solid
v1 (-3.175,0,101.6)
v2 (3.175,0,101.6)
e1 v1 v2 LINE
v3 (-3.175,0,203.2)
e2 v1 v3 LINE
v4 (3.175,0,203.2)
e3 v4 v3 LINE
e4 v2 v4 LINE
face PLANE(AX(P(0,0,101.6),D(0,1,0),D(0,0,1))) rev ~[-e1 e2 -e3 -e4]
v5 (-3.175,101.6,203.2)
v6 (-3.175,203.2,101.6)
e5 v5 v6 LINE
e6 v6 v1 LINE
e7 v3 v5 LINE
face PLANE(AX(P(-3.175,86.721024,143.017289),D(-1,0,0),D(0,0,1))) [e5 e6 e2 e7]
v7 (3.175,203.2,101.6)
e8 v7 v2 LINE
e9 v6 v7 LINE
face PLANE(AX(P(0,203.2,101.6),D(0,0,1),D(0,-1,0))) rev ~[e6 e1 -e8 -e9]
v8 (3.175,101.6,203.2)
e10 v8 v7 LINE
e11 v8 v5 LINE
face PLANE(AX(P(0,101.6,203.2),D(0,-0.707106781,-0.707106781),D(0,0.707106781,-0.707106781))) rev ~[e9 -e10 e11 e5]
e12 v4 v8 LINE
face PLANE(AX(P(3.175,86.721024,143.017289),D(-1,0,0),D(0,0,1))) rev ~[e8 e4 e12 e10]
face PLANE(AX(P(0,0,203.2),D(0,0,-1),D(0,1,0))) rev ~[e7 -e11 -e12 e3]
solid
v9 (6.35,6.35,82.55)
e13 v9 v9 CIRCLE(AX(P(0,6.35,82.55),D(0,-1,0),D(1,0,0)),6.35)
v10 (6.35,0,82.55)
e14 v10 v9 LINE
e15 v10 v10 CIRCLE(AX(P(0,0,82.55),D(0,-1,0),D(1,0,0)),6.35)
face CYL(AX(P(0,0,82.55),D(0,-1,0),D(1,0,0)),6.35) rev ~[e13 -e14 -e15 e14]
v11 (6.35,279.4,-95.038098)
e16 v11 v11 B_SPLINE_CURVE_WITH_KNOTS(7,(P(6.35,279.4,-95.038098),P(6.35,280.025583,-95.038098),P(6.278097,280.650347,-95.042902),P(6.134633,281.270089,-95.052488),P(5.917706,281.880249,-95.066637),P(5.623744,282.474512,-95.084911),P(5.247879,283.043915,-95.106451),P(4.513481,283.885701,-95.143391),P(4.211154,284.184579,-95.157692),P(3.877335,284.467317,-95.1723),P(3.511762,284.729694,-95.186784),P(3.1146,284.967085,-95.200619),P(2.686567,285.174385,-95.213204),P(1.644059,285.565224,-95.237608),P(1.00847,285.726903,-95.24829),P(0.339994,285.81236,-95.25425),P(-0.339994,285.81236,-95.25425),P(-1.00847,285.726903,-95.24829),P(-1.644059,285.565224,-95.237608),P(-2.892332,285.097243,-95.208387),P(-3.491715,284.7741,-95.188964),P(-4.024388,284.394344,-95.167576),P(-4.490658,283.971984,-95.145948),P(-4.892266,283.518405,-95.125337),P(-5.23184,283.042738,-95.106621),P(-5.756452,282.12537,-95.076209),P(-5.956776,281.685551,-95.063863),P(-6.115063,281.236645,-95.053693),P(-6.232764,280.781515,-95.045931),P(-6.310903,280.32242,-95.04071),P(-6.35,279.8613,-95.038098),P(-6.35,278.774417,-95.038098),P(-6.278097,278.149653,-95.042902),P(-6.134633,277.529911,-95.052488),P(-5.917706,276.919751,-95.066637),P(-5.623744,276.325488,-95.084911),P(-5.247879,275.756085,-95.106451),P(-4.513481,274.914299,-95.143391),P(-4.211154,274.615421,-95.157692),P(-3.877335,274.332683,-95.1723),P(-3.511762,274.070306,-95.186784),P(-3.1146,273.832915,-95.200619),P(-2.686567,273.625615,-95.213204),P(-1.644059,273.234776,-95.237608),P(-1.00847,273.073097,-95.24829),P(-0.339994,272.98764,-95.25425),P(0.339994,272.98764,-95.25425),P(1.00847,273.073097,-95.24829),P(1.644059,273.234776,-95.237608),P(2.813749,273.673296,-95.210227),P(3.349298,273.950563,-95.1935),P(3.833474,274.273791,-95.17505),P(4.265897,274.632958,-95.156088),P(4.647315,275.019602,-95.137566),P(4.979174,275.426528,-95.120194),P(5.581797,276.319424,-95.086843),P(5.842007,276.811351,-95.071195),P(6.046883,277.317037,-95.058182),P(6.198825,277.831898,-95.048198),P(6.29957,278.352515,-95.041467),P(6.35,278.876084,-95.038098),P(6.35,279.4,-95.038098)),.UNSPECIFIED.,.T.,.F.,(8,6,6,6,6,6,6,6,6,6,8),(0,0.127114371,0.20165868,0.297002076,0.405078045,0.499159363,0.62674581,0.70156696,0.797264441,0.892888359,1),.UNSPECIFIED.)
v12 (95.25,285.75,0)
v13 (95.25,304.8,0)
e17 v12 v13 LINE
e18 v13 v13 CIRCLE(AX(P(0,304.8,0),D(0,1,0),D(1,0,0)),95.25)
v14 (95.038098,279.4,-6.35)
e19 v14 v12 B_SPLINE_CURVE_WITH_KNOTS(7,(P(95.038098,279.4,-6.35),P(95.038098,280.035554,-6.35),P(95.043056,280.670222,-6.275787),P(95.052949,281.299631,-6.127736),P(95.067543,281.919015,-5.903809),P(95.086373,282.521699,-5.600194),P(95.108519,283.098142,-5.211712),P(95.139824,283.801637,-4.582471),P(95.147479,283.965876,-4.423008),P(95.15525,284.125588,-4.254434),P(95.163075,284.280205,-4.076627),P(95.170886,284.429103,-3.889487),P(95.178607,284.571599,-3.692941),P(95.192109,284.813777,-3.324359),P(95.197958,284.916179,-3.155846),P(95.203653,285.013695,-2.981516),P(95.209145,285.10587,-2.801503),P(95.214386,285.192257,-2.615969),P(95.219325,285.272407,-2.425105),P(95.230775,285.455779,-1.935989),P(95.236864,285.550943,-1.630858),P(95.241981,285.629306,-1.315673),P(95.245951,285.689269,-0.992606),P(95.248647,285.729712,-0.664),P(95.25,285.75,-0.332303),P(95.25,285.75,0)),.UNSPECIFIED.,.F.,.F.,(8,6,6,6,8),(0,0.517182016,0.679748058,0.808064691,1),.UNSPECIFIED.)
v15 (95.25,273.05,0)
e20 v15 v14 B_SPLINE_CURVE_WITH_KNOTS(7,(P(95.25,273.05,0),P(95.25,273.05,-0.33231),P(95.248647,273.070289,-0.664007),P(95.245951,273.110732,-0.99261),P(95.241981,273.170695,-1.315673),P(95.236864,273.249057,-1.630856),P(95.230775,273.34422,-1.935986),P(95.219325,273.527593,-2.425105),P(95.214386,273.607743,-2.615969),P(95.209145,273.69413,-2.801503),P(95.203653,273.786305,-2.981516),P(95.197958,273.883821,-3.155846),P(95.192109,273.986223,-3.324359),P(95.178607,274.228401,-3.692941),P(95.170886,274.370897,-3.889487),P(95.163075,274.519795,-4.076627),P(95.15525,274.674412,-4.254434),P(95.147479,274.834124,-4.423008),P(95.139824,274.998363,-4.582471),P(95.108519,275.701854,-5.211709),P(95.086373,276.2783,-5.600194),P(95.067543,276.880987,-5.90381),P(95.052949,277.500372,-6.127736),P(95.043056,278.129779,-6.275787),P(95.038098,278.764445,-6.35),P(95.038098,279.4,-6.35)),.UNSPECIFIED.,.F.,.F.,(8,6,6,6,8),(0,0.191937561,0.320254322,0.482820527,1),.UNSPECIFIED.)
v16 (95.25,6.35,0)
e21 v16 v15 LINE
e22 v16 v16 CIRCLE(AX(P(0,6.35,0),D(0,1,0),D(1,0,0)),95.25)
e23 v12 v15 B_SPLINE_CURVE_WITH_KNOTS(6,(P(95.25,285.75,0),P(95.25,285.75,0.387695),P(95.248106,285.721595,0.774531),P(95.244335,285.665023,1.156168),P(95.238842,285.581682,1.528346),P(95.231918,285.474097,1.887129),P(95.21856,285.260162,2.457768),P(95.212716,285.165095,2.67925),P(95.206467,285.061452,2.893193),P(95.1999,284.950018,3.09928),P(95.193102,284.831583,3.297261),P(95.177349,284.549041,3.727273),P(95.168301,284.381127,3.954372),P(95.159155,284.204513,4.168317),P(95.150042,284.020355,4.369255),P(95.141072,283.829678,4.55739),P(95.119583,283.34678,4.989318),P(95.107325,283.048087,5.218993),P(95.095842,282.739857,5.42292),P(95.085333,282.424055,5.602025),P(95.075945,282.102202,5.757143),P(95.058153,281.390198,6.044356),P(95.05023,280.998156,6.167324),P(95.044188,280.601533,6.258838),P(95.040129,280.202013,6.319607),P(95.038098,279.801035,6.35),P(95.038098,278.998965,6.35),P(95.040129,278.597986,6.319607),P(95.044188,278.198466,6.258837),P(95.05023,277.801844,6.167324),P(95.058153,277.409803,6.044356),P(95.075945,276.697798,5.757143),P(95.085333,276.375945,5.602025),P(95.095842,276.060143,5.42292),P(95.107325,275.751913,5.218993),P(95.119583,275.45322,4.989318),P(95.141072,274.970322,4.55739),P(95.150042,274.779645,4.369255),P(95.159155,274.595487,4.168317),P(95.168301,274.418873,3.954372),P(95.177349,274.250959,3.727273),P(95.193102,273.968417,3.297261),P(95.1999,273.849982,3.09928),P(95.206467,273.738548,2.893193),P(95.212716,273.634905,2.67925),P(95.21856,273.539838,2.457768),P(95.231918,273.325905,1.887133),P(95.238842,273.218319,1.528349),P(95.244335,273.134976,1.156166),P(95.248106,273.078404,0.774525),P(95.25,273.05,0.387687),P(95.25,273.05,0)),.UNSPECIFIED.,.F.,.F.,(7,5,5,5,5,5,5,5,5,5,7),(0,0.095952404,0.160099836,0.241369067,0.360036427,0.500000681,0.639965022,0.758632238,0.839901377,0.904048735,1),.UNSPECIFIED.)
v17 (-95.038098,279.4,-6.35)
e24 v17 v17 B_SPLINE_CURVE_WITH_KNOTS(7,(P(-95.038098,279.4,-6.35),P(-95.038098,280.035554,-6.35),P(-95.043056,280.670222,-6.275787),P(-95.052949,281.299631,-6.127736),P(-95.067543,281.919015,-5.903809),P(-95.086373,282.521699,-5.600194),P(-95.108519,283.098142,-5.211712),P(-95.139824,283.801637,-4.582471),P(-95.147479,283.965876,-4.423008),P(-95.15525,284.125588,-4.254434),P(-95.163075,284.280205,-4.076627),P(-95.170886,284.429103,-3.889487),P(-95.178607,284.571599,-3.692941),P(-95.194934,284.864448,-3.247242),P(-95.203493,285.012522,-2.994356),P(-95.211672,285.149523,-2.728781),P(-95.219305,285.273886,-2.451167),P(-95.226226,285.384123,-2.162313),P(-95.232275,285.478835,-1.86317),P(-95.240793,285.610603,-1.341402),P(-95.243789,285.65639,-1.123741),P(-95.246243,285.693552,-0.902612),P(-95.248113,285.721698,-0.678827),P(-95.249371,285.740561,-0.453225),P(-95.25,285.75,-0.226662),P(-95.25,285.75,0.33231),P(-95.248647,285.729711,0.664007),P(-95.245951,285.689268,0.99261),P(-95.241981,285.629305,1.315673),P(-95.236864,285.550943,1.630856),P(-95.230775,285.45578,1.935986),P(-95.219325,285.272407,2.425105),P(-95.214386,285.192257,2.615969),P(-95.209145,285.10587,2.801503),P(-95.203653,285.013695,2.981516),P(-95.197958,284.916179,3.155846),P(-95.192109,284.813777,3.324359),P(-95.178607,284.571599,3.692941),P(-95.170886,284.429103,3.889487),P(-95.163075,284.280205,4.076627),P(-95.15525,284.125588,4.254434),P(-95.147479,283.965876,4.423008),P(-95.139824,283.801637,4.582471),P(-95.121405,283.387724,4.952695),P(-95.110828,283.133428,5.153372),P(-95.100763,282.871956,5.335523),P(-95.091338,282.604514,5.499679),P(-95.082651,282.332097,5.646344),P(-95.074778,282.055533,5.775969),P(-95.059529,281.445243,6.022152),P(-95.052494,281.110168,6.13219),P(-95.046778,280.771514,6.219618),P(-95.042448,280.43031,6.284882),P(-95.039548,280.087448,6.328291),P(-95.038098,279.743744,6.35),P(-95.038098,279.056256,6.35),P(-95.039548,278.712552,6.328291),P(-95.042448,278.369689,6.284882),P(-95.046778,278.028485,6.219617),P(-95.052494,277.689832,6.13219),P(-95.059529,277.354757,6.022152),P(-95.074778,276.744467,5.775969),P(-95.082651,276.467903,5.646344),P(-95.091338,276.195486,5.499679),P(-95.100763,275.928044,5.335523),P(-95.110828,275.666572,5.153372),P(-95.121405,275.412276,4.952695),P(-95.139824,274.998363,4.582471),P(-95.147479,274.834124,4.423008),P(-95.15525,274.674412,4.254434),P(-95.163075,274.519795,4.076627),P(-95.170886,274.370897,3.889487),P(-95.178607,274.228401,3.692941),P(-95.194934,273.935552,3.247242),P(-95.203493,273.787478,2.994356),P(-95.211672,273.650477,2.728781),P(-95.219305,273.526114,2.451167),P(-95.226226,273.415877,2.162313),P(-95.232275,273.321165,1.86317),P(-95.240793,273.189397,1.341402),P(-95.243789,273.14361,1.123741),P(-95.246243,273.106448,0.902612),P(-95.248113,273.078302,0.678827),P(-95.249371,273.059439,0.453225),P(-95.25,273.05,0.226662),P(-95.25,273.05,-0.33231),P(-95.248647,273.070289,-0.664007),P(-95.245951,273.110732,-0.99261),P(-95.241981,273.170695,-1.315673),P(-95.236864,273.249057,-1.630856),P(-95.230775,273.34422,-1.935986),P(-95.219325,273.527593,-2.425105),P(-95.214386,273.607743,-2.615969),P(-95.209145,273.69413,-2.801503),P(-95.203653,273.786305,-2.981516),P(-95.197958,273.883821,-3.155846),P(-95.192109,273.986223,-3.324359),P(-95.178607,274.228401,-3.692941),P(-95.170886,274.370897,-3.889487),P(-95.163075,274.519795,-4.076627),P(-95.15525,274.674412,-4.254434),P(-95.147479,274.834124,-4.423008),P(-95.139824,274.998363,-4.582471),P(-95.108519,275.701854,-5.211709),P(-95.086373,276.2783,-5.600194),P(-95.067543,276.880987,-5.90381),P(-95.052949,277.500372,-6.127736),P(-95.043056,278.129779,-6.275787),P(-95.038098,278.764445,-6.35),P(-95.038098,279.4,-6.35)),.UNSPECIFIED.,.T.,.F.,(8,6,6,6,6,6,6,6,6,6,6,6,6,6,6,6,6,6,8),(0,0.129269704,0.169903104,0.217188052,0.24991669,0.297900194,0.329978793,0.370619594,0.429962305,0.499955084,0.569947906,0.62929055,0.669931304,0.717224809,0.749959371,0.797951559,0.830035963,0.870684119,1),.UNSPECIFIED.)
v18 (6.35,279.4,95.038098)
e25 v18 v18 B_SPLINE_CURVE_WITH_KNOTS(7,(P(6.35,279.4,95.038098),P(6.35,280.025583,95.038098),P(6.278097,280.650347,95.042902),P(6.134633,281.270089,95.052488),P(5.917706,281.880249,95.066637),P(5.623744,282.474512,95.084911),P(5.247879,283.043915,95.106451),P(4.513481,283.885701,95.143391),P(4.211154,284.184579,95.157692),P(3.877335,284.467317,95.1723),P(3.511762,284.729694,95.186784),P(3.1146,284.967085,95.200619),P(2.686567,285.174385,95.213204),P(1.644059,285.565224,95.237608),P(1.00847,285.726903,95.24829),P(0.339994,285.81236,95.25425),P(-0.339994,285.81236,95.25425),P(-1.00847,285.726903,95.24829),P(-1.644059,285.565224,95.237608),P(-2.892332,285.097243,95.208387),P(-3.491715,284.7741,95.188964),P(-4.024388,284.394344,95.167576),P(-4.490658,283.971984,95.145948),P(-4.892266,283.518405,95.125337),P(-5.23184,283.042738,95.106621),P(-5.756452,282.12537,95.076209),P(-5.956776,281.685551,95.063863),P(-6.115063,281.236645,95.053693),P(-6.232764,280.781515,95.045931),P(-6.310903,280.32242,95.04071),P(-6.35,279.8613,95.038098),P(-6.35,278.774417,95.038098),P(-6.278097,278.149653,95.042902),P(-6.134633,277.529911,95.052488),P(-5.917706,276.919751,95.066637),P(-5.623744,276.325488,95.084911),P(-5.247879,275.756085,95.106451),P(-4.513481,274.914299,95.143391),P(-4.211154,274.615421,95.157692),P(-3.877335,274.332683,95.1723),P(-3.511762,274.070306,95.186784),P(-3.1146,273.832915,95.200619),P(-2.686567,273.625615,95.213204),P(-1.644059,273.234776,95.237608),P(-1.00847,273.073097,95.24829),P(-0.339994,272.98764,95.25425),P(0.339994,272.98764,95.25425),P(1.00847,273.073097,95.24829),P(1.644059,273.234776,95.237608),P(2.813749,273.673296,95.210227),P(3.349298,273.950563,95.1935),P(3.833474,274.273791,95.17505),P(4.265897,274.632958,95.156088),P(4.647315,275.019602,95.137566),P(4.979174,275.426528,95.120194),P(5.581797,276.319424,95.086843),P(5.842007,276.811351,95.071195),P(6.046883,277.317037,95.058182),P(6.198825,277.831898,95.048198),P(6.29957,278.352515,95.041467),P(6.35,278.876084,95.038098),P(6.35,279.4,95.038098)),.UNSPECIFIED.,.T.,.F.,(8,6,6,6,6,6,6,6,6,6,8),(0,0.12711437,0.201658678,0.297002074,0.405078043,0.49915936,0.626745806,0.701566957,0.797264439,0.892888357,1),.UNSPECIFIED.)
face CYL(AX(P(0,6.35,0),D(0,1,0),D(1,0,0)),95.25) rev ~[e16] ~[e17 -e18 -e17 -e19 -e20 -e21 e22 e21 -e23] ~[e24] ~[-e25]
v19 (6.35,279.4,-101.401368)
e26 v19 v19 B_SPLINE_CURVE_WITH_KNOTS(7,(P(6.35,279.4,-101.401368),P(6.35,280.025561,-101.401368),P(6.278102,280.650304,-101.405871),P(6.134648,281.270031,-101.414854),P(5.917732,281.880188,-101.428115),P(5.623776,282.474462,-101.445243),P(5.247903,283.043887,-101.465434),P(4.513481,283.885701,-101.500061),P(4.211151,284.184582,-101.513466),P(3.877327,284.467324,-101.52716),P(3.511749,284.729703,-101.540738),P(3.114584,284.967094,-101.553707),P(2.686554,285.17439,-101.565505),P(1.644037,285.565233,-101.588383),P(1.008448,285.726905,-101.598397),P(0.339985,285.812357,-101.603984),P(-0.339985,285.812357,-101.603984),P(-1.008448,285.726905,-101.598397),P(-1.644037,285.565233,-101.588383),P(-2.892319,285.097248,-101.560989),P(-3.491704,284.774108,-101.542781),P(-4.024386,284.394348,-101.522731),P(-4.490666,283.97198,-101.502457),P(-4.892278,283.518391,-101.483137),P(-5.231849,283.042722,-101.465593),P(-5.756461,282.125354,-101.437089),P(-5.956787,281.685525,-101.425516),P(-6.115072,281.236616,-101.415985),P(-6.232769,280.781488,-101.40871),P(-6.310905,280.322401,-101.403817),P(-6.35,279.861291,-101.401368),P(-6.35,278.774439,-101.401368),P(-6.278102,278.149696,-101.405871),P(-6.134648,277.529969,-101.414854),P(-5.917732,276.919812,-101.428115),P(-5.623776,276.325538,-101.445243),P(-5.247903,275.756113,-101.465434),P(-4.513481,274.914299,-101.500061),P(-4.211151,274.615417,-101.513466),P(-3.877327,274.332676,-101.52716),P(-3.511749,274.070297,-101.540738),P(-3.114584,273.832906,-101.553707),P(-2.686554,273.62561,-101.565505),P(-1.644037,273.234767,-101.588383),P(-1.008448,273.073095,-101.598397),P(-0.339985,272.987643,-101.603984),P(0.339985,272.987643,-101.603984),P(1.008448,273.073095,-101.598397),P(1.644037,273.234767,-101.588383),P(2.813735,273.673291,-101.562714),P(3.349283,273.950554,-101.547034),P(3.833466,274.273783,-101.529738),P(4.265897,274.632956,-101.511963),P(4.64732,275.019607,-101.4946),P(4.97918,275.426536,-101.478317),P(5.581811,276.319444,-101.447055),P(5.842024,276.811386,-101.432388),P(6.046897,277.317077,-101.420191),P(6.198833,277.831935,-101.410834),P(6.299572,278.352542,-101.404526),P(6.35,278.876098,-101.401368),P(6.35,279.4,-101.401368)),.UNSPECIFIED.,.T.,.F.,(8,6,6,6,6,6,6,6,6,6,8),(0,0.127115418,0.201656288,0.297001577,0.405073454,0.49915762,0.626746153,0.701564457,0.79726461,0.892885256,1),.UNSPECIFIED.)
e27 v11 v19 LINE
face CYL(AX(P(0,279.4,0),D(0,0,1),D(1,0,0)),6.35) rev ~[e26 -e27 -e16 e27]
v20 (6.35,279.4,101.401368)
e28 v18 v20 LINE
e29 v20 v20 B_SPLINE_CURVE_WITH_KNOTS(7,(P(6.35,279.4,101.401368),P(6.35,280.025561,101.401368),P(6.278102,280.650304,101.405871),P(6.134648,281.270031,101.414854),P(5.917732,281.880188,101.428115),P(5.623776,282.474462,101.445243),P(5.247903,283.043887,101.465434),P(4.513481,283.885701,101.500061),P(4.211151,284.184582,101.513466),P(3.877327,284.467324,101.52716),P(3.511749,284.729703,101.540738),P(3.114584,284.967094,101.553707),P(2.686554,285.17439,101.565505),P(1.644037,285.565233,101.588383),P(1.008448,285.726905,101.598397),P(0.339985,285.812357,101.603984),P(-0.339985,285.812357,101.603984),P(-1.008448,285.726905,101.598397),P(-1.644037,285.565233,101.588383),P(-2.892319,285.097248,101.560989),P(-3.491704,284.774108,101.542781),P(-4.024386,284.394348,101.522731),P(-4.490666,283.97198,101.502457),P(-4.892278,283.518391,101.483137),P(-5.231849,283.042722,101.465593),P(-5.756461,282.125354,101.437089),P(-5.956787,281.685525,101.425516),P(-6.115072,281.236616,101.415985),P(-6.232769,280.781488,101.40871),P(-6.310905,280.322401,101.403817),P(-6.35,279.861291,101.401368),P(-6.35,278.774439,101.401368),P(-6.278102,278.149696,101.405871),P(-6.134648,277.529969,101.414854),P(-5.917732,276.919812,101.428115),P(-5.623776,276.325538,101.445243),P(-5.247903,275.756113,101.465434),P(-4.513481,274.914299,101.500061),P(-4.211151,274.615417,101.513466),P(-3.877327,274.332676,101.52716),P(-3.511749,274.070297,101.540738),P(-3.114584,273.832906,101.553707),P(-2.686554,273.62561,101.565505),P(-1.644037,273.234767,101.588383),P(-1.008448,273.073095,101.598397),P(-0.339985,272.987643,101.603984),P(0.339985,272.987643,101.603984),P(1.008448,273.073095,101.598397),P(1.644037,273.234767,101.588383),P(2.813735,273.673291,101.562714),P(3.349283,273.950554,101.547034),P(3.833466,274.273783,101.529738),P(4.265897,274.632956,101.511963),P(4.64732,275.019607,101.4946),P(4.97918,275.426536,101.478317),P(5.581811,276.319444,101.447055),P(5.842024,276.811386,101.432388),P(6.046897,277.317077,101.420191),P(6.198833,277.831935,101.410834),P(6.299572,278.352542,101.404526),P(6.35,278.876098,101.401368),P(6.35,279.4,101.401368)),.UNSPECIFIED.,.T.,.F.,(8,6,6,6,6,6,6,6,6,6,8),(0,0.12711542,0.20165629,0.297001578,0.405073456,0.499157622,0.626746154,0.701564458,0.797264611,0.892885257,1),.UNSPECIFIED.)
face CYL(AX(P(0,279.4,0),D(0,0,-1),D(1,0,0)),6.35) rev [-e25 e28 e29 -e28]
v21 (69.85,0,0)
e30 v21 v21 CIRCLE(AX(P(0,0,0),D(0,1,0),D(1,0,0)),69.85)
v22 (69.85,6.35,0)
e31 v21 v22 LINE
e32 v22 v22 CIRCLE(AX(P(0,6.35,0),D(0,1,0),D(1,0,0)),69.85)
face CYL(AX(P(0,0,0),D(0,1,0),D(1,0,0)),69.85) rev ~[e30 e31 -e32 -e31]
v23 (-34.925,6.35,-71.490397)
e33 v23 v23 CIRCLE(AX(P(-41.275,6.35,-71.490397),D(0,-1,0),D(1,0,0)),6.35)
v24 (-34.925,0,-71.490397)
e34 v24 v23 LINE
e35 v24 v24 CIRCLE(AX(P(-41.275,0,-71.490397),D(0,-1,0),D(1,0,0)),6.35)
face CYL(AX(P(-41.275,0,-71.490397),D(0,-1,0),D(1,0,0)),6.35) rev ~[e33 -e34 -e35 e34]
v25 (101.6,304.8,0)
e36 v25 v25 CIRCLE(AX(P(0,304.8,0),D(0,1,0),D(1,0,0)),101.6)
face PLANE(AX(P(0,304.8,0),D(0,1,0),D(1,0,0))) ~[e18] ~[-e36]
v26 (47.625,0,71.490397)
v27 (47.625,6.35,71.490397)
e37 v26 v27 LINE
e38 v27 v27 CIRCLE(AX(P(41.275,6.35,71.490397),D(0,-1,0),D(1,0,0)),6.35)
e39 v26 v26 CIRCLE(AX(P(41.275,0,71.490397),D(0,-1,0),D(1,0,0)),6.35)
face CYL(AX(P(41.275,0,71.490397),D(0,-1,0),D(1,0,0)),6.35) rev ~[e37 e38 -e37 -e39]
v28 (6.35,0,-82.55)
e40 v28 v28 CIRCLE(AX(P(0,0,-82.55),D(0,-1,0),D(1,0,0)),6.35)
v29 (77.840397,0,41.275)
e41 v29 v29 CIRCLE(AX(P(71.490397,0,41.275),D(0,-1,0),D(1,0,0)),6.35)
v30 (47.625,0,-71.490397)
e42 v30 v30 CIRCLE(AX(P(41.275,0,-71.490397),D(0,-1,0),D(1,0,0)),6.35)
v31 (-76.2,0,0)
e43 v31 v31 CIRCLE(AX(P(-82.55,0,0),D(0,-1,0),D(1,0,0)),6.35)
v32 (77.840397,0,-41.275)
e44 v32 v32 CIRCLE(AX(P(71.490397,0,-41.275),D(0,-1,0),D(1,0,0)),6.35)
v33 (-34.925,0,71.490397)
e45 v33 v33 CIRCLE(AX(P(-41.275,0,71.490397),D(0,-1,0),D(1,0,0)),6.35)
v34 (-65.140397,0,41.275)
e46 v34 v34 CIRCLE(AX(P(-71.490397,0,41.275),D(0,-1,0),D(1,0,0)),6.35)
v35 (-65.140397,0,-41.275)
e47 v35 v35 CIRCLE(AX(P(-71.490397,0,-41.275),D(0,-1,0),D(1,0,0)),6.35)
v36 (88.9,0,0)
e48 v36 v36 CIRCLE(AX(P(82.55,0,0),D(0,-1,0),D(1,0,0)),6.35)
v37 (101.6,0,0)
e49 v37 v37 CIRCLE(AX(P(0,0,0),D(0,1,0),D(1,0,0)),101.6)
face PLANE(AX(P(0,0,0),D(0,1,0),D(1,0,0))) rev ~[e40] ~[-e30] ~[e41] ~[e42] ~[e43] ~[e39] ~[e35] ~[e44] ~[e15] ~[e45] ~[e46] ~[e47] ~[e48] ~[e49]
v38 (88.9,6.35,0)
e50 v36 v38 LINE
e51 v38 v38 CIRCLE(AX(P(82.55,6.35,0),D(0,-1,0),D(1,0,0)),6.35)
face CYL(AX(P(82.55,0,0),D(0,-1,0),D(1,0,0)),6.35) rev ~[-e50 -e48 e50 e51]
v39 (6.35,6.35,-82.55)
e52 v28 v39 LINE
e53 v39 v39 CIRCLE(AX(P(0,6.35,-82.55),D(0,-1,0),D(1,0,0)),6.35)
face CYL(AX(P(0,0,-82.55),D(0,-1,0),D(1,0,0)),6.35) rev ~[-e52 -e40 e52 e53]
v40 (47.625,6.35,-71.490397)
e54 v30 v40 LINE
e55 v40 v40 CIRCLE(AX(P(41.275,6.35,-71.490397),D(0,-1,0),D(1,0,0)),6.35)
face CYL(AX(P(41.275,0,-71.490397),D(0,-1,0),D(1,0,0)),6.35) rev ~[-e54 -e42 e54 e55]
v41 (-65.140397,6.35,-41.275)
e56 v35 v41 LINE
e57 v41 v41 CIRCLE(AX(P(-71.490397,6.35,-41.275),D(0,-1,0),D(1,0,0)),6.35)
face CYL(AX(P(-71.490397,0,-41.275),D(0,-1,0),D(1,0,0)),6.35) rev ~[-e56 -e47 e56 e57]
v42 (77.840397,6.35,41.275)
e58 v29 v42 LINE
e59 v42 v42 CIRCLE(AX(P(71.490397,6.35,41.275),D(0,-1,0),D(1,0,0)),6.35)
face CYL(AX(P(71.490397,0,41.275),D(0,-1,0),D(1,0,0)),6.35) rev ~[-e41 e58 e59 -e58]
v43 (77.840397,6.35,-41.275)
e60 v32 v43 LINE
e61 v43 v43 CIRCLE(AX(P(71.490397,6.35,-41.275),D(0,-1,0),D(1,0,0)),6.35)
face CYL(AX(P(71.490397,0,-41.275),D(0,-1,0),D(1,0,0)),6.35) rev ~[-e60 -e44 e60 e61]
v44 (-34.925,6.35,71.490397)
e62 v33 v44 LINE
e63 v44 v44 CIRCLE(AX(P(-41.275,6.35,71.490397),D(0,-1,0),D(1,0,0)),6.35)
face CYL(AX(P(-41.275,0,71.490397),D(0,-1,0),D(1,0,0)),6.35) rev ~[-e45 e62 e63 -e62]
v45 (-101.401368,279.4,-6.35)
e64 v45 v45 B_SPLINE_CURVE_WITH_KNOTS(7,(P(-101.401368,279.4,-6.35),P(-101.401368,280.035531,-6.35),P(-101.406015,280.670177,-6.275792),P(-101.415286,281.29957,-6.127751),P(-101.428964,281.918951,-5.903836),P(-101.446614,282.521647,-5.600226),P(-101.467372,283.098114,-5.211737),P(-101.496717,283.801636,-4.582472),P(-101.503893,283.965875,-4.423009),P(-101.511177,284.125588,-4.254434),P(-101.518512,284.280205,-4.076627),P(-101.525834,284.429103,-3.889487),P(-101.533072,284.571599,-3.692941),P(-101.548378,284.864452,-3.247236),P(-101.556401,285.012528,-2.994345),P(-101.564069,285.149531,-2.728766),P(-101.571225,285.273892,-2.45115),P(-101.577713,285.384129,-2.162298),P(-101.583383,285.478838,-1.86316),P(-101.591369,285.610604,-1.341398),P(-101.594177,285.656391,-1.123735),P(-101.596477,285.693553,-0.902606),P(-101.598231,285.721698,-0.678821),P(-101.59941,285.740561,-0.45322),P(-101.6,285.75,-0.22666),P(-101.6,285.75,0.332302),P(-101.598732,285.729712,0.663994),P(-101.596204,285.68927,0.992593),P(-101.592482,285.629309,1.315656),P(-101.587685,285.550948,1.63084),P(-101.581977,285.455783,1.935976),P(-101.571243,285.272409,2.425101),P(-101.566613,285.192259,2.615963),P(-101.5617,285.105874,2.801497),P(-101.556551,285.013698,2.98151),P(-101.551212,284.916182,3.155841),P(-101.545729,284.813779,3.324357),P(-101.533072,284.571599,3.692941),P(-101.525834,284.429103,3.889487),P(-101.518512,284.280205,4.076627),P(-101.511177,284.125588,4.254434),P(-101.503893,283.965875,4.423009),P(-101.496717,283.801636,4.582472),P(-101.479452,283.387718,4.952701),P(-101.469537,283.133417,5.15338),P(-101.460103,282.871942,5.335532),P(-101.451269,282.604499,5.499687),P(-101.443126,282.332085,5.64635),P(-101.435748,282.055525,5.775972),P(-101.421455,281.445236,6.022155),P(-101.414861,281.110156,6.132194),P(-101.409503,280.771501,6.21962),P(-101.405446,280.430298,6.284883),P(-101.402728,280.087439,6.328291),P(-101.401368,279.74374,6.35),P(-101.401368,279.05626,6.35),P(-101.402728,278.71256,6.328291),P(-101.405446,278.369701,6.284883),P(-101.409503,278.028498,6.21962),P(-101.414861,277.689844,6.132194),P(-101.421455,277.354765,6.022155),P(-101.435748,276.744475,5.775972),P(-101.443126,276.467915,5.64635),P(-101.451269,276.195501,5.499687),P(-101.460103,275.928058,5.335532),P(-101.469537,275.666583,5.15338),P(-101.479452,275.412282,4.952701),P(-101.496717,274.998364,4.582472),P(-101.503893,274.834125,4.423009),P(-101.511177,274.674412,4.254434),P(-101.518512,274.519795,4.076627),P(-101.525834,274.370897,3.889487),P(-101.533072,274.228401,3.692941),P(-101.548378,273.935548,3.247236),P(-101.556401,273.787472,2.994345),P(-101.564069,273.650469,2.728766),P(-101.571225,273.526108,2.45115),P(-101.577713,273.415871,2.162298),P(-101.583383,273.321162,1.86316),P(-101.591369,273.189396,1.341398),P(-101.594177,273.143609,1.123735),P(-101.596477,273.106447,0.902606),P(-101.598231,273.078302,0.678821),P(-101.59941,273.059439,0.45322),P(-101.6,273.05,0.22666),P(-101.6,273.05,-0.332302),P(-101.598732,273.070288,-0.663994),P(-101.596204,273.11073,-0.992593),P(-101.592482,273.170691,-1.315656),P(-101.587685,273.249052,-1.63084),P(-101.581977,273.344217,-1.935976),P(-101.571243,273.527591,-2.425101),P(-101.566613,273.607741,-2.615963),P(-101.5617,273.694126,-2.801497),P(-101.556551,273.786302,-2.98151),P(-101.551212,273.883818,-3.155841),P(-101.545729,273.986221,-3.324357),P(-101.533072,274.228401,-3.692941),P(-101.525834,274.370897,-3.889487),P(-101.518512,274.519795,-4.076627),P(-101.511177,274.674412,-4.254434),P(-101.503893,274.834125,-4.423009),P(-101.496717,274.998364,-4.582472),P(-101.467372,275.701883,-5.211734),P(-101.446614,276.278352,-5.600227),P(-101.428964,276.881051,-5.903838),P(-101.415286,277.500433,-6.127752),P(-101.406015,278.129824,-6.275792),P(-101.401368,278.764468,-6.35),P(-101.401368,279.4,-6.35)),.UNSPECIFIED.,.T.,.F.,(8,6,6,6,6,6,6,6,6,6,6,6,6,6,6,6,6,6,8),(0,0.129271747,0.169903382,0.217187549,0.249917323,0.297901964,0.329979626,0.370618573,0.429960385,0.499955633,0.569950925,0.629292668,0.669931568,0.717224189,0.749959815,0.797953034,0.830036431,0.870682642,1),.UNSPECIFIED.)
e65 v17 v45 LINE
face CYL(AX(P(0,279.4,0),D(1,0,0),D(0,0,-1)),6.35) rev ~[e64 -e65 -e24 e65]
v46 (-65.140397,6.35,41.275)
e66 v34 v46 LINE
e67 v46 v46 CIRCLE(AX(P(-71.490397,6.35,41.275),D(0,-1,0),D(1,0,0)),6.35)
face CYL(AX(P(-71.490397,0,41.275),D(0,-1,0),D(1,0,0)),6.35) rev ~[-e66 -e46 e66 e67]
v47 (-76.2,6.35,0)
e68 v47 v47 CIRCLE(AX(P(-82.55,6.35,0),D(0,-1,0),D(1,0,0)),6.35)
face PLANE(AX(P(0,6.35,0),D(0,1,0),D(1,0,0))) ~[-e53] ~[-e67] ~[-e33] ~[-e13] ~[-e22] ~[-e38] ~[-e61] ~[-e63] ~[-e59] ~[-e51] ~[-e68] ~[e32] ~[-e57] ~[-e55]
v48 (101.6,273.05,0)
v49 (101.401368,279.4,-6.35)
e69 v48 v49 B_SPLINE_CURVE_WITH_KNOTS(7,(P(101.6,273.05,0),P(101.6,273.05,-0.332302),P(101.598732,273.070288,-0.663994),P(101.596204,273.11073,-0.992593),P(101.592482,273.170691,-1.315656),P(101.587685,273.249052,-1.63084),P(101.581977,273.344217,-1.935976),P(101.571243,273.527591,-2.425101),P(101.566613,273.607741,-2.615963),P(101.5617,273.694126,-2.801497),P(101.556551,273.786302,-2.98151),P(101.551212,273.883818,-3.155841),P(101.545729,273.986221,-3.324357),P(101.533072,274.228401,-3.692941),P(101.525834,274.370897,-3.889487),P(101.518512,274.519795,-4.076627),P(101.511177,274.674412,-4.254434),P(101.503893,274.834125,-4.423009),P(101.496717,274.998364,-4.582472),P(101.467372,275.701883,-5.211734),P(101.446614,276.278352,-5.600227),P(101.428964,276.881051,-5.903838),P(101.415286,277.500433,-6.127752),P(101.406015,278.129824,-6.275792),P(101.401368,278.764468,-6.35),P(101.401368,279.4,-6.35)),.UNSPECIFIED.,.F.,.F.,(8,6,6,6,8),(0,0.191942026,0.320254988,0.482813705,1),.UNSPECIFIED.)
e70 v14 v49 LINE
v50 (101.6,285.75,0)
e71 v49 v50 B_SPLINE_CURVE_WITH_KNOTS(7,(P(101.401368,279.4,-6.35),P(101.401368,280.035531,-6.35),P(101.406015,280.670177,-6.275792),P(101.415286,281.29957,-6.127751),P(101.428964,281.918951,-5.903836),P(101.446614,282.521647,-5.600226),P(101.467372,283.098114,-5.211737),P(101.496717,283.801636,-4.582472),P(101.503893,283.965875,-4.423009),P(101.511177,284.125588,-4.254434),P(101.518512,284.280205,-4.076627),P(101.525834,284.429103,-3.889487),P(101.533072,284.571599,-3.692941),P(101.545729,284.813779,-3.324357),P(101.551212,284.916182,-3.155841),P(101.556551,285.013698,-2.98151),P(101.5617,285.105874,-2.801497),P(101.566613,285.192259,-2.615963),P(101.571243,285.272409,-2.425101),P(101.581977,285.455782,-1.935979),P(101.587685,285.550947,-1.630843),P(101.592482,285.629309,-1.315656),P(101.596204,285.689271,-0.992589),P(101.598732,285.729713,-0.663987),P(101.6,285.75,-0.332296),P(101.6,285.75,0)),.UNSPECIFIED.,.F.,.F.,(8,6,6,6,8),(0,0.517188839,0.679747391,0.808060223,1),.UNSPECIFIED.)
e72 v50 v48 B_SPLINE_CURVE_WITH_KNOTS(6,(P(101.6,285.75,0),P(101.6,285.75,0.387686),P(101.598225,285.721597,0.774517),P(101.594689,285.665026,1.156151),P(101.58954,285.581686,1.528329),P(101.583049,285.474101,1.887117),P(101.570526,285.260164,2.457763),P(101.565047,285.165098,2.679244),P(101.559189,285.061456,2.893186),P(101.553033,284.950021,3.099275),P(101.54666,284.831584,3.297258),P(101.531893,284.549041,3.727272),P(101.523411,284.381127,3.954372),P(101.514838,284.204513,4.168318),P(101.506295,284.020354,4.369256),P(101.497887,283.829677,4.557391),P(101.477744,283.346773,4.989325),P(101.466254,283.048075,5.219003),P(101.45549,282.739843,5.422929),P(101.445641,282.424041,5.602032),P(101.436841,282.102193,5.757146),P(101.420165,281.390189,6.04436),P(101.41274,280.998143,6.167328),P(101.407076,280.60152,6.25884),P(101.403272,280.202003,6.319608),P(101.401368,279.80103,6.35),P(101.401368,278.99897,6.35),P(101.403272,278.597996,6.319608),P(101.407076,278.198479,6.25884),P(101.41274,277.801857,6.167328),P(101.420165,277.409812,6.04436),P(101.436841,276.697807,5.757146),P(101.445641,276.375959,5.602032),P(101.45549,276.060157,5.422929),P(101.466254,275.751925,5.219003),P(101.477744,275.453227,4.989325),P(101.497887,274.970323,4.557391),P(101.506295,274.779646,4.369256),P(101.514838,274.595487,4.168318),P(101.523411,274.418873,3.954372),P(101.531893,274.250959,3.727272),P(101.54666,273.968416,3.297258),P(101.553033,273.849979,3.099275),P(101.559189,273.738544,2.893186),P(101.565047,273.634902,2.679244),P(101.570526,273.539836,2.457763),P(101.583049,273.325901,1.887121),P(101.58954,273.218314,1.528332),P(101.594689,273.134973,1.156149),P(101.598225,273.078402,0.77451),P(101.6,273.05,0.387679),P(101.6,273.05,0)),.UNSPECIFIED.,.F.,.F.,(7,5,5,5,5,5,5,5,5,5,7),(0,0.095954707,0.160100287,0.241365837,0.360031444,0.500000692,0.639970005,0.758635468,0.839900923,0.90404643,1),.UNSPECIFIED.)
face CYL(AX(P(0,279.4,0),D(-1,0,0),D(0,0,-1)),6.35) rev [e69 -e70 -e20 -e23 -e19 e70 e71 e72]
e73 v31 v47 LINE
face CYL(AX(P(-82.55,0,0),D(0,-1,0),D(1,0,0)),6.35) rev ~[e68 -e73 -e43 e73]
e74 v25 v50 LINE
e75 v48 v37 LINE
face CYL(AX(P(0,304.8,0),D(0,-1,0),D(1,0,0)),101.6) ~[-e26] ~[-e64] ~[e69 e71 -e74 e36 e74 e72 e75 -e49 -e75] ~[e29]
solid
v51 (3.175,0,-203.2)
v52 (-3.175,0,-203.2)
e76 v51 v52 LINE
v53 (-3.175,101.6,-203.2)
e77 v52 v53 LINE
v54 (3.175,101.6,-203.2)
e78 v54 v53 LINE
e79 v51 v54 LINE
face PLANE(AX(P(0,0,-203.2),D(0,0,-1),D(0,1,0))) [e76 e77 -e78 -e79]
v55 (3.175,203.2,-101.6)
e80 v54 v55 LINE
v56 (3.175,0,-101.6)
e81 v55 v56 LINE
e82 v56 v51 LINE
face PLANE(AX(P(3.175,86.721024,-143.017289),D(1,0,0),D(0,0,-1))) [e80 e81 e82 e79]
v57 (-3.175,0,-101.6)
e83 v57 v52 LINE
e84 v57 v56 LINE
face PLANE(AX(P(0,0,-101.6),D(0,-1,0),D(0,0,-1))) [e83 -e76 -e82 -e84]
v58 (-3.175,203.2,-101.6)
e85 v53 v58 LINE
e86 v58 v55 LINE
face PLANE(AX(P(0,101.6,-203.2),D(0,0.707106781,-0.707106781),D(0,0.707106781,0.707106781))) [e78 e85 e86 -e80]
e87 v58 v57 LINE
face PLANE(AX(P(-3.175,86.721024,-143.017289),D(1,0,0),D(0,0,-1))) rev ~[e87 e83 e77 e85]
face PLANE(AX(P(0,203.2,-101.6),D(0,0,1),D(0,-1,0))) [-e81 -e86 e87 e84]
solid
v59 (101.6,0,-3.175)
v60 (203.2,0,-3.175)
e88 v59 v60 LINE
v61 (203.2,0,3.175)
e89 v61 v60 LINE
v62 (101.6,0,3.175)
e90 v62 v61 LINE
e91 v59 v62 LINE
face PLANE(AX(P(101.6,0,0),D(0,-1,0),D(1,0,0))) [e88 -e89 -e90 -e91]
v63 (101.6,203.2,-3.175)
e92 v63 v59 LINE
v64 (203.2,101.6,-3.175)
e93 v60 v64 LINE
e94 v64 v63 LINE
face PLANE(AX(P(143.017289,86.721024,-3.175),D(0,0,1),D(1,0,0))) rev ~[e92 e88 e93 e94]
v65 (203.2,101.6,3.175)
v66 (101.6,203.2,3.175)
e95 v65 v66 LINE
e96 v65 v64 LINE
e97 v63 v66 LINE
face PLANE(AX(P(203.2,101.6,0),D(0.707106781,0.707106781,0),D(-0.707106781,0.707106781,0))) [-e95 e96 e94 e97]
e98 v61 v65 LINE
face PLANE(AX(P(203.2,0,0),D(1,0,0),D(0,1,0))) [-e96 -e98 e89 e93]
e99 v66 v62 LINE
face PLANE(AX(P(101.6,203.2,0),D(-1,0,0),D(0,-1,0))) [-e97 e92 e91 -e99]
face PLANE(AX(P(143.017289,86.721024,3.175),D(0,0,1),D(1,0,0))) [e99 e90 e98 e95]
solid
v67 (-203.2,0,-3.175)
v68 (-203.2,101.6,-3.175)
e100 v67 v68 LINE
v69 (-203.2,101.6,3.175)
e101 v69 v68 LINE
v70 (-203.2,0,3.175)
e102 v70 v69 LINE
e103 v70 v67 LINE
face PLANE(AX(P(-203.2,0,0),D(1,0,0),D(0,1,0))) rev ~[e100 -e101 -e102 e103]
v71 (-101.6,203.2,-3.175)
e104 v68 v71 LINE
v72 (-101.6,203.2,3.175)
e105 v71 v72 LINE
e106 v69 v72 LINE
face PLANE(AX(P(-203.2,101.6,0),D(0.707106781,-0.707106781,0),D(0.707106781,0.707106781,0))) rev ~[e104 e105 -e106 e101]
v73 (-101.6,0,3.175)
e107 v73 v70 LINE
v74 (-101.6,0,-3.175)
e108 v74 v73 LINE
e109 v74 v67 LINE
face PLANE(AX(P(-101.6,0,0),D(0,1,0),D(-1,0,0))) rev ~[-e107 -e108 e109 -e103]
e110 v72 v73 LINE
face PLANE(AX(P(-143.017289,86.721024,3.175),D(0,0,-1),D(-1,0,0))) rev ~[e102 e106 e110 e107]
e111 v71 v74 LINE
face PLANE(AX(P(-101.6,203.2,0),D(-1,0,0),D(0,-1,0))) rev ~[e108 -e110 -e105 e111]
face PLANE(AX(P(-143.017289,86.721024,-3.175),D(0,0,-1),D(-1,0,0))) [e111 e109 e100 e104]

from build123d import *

# Parameters (mm, degrees)
SKETCH2_R               = 6.35
CUT_EXTRUDE1_DEPTH      = 305.8
BOSS_EXTRUDE1_DEPTH     = 3.175
BOSS_EXTRUDE1_2_DEPTH   = 3.175
BOSS_EXTRUDE3_DEPTH     = 3.175
BOSS_EXTRUDE3_2_DEPTH   = 3.175
SKETCH5_R               = 6.35
CUT_EXTRUDE2_DEPTH      = 204.2
CUT_EXTRUDE2_DEPTH_BACK = 204.2
SKETCH6_R               = 6.35
CUT_EXTRUDE3_DEPTH      = 204.2
CUT_EXTRUDE3_DEPTH_BACK = 204.2


with BuildPart() as part:
    # Sketch1 → Revolve1 (revolve)
    with BuildSketch(Plane.XY):
        Polygon((95.25, 6.35), (95.25, 304.8), (101.6, 304.8), (101.6, 0), (69.85, 0), (69.85, 6.35), align=None)
    revolve(axis=Axis((0, 0, 0), (0, 1, 0)))

    # Sketch2 → Cut-Extrude1 (cut, through all)
    with BuildSketch(Plane.XZ):
        with Locations((0, 82.55)):
            Circle(SKETCH2_R)
        with Locations((41.275, 71.490397082)):
            Circle(SKETCH2_R)
        with Locations((71.490397082, 41.275)):
            Circle(SKETCH2_R)
        with Locations((82.55, 0)):
            Circle(SKETCH2_R)
        with Locations((71.490397082, -41.275)):
            Circle(SKETCH2_R)
        with Locations((41.275, -71.490397082)):
            Circle(SKETCH2_R)
        with Locations((0, -82.55)):
            Circle(SKETCH2_R)
        with Locations((-41.275, -71.490397082)):
            Circle(SKETCH2_R)
        with Locations((-71.490397082, -41.275)):
            Circle(SKETCH2_R)
        with Locations((-82.55, 0)):
            Circle(SKETCH2_R)
        with Locations((-71.490397082, 41.275)):
            Circle(SKETCH2_R)
        with Locations((-41.275, 71.490397082)):
            Circle(SKETCH2_R)
    extrude(amount=-CUT_EXTRUDE1_DEPTH, mode=Mode.SUBTRACT)

    # Sketch5 → Cut-Extrude2 (cut, two sides)
    with BuildSketch(Plane.XY) as cut_extrude2_sk:
        with Locations((0, 279.4)):
            Circle(SKETCH5_R)
    extrude(amount=CUT_EXTRUDE2_DEPTH, mode=Mode.SUBTRACT)
    extrude(cut_extrude2_sk.sketch, amount=-CUT_EXTRUDE2_DEPTH_BACK, mode=Mode.SUBTRACT)

    # Sketch6 → Cut-Extrude3 (cut, two sides)
    with BuildSketch(Plane(origin=(0, 0, 0), x_dir=(0, 0, -1), z_dir=(1, 0, 0))) as cut_extrude3_sk:
        with Locations((0, 279.4)):
            Circle(SKETCH6_R)
    extrude(amount=CUT_EXTRUDE3_DEPTH, mode=Mode.SUBTRACT)
    extrude(cut_extrude3_sk.sketch, amount=-CUT_EXTRUDE3_DEPTH_BACK, mode=Mode.SUBTRACT)


with BuildPart() as body_2:
    # Sketch3 → Boss-Extrude1 (new body, symmetric)
    with BuildSketch(Plane.XY):
        Polygon((-101.6, 0), (-203.2, 0), (-203.2, 101.6), (-101.6, 203.2), align=None)
    extrude(amount=BOSS_EXTRUDE1_DEPTH, both=True)


with BuildPart() as body_3:
    # Sketch3 → Boss-Extrude1 2 (new body, symmetric)
    with BuildSketch(Plane.XY):
        Polygon((203.2, 101.6), (101.6, 203.2), (101.6, 0), (203.2, 0), align=None)
    extrude(amount=BOSS_EXTRUDE1_2_DEPTH, both=True)


with BuildPart() as body_4:
    # Sketch4 → Boss-Extrude3 (new body, symmetric)
    with BuildSketch(Plane(origin=(0, 0, 0), x_dir=(0, 0, -1), z_dir=(1, 0, 0))):
        Polygon((-101.6, 0), (-203.2, 0), (-203.2, 101.6), (-101.6, 203.2), align=None)
    extrude(amount=BOSS_EXTRUDE3_DEPTH, both=True)


with BuildPart() as body_5:
    # Sketch4 → Boss-Extrude3 2 (new body, symmetric)
    with BuildSketch(Plane(origin=(0, 0, 0), x_dir=(0, 0, -1), z_dir=(1, 0, 0))):
        Polygon((203.2, 101.6), (101.6, 203.2), (101.6, 0), (203.2, 0), align=None)
    extrude(amount=BOSS_EXTRUDE3_2_DEPTH, both=True)


solid = Compound([part.part, body_2.part, body_3.part, body_4.part, body_5.part])
